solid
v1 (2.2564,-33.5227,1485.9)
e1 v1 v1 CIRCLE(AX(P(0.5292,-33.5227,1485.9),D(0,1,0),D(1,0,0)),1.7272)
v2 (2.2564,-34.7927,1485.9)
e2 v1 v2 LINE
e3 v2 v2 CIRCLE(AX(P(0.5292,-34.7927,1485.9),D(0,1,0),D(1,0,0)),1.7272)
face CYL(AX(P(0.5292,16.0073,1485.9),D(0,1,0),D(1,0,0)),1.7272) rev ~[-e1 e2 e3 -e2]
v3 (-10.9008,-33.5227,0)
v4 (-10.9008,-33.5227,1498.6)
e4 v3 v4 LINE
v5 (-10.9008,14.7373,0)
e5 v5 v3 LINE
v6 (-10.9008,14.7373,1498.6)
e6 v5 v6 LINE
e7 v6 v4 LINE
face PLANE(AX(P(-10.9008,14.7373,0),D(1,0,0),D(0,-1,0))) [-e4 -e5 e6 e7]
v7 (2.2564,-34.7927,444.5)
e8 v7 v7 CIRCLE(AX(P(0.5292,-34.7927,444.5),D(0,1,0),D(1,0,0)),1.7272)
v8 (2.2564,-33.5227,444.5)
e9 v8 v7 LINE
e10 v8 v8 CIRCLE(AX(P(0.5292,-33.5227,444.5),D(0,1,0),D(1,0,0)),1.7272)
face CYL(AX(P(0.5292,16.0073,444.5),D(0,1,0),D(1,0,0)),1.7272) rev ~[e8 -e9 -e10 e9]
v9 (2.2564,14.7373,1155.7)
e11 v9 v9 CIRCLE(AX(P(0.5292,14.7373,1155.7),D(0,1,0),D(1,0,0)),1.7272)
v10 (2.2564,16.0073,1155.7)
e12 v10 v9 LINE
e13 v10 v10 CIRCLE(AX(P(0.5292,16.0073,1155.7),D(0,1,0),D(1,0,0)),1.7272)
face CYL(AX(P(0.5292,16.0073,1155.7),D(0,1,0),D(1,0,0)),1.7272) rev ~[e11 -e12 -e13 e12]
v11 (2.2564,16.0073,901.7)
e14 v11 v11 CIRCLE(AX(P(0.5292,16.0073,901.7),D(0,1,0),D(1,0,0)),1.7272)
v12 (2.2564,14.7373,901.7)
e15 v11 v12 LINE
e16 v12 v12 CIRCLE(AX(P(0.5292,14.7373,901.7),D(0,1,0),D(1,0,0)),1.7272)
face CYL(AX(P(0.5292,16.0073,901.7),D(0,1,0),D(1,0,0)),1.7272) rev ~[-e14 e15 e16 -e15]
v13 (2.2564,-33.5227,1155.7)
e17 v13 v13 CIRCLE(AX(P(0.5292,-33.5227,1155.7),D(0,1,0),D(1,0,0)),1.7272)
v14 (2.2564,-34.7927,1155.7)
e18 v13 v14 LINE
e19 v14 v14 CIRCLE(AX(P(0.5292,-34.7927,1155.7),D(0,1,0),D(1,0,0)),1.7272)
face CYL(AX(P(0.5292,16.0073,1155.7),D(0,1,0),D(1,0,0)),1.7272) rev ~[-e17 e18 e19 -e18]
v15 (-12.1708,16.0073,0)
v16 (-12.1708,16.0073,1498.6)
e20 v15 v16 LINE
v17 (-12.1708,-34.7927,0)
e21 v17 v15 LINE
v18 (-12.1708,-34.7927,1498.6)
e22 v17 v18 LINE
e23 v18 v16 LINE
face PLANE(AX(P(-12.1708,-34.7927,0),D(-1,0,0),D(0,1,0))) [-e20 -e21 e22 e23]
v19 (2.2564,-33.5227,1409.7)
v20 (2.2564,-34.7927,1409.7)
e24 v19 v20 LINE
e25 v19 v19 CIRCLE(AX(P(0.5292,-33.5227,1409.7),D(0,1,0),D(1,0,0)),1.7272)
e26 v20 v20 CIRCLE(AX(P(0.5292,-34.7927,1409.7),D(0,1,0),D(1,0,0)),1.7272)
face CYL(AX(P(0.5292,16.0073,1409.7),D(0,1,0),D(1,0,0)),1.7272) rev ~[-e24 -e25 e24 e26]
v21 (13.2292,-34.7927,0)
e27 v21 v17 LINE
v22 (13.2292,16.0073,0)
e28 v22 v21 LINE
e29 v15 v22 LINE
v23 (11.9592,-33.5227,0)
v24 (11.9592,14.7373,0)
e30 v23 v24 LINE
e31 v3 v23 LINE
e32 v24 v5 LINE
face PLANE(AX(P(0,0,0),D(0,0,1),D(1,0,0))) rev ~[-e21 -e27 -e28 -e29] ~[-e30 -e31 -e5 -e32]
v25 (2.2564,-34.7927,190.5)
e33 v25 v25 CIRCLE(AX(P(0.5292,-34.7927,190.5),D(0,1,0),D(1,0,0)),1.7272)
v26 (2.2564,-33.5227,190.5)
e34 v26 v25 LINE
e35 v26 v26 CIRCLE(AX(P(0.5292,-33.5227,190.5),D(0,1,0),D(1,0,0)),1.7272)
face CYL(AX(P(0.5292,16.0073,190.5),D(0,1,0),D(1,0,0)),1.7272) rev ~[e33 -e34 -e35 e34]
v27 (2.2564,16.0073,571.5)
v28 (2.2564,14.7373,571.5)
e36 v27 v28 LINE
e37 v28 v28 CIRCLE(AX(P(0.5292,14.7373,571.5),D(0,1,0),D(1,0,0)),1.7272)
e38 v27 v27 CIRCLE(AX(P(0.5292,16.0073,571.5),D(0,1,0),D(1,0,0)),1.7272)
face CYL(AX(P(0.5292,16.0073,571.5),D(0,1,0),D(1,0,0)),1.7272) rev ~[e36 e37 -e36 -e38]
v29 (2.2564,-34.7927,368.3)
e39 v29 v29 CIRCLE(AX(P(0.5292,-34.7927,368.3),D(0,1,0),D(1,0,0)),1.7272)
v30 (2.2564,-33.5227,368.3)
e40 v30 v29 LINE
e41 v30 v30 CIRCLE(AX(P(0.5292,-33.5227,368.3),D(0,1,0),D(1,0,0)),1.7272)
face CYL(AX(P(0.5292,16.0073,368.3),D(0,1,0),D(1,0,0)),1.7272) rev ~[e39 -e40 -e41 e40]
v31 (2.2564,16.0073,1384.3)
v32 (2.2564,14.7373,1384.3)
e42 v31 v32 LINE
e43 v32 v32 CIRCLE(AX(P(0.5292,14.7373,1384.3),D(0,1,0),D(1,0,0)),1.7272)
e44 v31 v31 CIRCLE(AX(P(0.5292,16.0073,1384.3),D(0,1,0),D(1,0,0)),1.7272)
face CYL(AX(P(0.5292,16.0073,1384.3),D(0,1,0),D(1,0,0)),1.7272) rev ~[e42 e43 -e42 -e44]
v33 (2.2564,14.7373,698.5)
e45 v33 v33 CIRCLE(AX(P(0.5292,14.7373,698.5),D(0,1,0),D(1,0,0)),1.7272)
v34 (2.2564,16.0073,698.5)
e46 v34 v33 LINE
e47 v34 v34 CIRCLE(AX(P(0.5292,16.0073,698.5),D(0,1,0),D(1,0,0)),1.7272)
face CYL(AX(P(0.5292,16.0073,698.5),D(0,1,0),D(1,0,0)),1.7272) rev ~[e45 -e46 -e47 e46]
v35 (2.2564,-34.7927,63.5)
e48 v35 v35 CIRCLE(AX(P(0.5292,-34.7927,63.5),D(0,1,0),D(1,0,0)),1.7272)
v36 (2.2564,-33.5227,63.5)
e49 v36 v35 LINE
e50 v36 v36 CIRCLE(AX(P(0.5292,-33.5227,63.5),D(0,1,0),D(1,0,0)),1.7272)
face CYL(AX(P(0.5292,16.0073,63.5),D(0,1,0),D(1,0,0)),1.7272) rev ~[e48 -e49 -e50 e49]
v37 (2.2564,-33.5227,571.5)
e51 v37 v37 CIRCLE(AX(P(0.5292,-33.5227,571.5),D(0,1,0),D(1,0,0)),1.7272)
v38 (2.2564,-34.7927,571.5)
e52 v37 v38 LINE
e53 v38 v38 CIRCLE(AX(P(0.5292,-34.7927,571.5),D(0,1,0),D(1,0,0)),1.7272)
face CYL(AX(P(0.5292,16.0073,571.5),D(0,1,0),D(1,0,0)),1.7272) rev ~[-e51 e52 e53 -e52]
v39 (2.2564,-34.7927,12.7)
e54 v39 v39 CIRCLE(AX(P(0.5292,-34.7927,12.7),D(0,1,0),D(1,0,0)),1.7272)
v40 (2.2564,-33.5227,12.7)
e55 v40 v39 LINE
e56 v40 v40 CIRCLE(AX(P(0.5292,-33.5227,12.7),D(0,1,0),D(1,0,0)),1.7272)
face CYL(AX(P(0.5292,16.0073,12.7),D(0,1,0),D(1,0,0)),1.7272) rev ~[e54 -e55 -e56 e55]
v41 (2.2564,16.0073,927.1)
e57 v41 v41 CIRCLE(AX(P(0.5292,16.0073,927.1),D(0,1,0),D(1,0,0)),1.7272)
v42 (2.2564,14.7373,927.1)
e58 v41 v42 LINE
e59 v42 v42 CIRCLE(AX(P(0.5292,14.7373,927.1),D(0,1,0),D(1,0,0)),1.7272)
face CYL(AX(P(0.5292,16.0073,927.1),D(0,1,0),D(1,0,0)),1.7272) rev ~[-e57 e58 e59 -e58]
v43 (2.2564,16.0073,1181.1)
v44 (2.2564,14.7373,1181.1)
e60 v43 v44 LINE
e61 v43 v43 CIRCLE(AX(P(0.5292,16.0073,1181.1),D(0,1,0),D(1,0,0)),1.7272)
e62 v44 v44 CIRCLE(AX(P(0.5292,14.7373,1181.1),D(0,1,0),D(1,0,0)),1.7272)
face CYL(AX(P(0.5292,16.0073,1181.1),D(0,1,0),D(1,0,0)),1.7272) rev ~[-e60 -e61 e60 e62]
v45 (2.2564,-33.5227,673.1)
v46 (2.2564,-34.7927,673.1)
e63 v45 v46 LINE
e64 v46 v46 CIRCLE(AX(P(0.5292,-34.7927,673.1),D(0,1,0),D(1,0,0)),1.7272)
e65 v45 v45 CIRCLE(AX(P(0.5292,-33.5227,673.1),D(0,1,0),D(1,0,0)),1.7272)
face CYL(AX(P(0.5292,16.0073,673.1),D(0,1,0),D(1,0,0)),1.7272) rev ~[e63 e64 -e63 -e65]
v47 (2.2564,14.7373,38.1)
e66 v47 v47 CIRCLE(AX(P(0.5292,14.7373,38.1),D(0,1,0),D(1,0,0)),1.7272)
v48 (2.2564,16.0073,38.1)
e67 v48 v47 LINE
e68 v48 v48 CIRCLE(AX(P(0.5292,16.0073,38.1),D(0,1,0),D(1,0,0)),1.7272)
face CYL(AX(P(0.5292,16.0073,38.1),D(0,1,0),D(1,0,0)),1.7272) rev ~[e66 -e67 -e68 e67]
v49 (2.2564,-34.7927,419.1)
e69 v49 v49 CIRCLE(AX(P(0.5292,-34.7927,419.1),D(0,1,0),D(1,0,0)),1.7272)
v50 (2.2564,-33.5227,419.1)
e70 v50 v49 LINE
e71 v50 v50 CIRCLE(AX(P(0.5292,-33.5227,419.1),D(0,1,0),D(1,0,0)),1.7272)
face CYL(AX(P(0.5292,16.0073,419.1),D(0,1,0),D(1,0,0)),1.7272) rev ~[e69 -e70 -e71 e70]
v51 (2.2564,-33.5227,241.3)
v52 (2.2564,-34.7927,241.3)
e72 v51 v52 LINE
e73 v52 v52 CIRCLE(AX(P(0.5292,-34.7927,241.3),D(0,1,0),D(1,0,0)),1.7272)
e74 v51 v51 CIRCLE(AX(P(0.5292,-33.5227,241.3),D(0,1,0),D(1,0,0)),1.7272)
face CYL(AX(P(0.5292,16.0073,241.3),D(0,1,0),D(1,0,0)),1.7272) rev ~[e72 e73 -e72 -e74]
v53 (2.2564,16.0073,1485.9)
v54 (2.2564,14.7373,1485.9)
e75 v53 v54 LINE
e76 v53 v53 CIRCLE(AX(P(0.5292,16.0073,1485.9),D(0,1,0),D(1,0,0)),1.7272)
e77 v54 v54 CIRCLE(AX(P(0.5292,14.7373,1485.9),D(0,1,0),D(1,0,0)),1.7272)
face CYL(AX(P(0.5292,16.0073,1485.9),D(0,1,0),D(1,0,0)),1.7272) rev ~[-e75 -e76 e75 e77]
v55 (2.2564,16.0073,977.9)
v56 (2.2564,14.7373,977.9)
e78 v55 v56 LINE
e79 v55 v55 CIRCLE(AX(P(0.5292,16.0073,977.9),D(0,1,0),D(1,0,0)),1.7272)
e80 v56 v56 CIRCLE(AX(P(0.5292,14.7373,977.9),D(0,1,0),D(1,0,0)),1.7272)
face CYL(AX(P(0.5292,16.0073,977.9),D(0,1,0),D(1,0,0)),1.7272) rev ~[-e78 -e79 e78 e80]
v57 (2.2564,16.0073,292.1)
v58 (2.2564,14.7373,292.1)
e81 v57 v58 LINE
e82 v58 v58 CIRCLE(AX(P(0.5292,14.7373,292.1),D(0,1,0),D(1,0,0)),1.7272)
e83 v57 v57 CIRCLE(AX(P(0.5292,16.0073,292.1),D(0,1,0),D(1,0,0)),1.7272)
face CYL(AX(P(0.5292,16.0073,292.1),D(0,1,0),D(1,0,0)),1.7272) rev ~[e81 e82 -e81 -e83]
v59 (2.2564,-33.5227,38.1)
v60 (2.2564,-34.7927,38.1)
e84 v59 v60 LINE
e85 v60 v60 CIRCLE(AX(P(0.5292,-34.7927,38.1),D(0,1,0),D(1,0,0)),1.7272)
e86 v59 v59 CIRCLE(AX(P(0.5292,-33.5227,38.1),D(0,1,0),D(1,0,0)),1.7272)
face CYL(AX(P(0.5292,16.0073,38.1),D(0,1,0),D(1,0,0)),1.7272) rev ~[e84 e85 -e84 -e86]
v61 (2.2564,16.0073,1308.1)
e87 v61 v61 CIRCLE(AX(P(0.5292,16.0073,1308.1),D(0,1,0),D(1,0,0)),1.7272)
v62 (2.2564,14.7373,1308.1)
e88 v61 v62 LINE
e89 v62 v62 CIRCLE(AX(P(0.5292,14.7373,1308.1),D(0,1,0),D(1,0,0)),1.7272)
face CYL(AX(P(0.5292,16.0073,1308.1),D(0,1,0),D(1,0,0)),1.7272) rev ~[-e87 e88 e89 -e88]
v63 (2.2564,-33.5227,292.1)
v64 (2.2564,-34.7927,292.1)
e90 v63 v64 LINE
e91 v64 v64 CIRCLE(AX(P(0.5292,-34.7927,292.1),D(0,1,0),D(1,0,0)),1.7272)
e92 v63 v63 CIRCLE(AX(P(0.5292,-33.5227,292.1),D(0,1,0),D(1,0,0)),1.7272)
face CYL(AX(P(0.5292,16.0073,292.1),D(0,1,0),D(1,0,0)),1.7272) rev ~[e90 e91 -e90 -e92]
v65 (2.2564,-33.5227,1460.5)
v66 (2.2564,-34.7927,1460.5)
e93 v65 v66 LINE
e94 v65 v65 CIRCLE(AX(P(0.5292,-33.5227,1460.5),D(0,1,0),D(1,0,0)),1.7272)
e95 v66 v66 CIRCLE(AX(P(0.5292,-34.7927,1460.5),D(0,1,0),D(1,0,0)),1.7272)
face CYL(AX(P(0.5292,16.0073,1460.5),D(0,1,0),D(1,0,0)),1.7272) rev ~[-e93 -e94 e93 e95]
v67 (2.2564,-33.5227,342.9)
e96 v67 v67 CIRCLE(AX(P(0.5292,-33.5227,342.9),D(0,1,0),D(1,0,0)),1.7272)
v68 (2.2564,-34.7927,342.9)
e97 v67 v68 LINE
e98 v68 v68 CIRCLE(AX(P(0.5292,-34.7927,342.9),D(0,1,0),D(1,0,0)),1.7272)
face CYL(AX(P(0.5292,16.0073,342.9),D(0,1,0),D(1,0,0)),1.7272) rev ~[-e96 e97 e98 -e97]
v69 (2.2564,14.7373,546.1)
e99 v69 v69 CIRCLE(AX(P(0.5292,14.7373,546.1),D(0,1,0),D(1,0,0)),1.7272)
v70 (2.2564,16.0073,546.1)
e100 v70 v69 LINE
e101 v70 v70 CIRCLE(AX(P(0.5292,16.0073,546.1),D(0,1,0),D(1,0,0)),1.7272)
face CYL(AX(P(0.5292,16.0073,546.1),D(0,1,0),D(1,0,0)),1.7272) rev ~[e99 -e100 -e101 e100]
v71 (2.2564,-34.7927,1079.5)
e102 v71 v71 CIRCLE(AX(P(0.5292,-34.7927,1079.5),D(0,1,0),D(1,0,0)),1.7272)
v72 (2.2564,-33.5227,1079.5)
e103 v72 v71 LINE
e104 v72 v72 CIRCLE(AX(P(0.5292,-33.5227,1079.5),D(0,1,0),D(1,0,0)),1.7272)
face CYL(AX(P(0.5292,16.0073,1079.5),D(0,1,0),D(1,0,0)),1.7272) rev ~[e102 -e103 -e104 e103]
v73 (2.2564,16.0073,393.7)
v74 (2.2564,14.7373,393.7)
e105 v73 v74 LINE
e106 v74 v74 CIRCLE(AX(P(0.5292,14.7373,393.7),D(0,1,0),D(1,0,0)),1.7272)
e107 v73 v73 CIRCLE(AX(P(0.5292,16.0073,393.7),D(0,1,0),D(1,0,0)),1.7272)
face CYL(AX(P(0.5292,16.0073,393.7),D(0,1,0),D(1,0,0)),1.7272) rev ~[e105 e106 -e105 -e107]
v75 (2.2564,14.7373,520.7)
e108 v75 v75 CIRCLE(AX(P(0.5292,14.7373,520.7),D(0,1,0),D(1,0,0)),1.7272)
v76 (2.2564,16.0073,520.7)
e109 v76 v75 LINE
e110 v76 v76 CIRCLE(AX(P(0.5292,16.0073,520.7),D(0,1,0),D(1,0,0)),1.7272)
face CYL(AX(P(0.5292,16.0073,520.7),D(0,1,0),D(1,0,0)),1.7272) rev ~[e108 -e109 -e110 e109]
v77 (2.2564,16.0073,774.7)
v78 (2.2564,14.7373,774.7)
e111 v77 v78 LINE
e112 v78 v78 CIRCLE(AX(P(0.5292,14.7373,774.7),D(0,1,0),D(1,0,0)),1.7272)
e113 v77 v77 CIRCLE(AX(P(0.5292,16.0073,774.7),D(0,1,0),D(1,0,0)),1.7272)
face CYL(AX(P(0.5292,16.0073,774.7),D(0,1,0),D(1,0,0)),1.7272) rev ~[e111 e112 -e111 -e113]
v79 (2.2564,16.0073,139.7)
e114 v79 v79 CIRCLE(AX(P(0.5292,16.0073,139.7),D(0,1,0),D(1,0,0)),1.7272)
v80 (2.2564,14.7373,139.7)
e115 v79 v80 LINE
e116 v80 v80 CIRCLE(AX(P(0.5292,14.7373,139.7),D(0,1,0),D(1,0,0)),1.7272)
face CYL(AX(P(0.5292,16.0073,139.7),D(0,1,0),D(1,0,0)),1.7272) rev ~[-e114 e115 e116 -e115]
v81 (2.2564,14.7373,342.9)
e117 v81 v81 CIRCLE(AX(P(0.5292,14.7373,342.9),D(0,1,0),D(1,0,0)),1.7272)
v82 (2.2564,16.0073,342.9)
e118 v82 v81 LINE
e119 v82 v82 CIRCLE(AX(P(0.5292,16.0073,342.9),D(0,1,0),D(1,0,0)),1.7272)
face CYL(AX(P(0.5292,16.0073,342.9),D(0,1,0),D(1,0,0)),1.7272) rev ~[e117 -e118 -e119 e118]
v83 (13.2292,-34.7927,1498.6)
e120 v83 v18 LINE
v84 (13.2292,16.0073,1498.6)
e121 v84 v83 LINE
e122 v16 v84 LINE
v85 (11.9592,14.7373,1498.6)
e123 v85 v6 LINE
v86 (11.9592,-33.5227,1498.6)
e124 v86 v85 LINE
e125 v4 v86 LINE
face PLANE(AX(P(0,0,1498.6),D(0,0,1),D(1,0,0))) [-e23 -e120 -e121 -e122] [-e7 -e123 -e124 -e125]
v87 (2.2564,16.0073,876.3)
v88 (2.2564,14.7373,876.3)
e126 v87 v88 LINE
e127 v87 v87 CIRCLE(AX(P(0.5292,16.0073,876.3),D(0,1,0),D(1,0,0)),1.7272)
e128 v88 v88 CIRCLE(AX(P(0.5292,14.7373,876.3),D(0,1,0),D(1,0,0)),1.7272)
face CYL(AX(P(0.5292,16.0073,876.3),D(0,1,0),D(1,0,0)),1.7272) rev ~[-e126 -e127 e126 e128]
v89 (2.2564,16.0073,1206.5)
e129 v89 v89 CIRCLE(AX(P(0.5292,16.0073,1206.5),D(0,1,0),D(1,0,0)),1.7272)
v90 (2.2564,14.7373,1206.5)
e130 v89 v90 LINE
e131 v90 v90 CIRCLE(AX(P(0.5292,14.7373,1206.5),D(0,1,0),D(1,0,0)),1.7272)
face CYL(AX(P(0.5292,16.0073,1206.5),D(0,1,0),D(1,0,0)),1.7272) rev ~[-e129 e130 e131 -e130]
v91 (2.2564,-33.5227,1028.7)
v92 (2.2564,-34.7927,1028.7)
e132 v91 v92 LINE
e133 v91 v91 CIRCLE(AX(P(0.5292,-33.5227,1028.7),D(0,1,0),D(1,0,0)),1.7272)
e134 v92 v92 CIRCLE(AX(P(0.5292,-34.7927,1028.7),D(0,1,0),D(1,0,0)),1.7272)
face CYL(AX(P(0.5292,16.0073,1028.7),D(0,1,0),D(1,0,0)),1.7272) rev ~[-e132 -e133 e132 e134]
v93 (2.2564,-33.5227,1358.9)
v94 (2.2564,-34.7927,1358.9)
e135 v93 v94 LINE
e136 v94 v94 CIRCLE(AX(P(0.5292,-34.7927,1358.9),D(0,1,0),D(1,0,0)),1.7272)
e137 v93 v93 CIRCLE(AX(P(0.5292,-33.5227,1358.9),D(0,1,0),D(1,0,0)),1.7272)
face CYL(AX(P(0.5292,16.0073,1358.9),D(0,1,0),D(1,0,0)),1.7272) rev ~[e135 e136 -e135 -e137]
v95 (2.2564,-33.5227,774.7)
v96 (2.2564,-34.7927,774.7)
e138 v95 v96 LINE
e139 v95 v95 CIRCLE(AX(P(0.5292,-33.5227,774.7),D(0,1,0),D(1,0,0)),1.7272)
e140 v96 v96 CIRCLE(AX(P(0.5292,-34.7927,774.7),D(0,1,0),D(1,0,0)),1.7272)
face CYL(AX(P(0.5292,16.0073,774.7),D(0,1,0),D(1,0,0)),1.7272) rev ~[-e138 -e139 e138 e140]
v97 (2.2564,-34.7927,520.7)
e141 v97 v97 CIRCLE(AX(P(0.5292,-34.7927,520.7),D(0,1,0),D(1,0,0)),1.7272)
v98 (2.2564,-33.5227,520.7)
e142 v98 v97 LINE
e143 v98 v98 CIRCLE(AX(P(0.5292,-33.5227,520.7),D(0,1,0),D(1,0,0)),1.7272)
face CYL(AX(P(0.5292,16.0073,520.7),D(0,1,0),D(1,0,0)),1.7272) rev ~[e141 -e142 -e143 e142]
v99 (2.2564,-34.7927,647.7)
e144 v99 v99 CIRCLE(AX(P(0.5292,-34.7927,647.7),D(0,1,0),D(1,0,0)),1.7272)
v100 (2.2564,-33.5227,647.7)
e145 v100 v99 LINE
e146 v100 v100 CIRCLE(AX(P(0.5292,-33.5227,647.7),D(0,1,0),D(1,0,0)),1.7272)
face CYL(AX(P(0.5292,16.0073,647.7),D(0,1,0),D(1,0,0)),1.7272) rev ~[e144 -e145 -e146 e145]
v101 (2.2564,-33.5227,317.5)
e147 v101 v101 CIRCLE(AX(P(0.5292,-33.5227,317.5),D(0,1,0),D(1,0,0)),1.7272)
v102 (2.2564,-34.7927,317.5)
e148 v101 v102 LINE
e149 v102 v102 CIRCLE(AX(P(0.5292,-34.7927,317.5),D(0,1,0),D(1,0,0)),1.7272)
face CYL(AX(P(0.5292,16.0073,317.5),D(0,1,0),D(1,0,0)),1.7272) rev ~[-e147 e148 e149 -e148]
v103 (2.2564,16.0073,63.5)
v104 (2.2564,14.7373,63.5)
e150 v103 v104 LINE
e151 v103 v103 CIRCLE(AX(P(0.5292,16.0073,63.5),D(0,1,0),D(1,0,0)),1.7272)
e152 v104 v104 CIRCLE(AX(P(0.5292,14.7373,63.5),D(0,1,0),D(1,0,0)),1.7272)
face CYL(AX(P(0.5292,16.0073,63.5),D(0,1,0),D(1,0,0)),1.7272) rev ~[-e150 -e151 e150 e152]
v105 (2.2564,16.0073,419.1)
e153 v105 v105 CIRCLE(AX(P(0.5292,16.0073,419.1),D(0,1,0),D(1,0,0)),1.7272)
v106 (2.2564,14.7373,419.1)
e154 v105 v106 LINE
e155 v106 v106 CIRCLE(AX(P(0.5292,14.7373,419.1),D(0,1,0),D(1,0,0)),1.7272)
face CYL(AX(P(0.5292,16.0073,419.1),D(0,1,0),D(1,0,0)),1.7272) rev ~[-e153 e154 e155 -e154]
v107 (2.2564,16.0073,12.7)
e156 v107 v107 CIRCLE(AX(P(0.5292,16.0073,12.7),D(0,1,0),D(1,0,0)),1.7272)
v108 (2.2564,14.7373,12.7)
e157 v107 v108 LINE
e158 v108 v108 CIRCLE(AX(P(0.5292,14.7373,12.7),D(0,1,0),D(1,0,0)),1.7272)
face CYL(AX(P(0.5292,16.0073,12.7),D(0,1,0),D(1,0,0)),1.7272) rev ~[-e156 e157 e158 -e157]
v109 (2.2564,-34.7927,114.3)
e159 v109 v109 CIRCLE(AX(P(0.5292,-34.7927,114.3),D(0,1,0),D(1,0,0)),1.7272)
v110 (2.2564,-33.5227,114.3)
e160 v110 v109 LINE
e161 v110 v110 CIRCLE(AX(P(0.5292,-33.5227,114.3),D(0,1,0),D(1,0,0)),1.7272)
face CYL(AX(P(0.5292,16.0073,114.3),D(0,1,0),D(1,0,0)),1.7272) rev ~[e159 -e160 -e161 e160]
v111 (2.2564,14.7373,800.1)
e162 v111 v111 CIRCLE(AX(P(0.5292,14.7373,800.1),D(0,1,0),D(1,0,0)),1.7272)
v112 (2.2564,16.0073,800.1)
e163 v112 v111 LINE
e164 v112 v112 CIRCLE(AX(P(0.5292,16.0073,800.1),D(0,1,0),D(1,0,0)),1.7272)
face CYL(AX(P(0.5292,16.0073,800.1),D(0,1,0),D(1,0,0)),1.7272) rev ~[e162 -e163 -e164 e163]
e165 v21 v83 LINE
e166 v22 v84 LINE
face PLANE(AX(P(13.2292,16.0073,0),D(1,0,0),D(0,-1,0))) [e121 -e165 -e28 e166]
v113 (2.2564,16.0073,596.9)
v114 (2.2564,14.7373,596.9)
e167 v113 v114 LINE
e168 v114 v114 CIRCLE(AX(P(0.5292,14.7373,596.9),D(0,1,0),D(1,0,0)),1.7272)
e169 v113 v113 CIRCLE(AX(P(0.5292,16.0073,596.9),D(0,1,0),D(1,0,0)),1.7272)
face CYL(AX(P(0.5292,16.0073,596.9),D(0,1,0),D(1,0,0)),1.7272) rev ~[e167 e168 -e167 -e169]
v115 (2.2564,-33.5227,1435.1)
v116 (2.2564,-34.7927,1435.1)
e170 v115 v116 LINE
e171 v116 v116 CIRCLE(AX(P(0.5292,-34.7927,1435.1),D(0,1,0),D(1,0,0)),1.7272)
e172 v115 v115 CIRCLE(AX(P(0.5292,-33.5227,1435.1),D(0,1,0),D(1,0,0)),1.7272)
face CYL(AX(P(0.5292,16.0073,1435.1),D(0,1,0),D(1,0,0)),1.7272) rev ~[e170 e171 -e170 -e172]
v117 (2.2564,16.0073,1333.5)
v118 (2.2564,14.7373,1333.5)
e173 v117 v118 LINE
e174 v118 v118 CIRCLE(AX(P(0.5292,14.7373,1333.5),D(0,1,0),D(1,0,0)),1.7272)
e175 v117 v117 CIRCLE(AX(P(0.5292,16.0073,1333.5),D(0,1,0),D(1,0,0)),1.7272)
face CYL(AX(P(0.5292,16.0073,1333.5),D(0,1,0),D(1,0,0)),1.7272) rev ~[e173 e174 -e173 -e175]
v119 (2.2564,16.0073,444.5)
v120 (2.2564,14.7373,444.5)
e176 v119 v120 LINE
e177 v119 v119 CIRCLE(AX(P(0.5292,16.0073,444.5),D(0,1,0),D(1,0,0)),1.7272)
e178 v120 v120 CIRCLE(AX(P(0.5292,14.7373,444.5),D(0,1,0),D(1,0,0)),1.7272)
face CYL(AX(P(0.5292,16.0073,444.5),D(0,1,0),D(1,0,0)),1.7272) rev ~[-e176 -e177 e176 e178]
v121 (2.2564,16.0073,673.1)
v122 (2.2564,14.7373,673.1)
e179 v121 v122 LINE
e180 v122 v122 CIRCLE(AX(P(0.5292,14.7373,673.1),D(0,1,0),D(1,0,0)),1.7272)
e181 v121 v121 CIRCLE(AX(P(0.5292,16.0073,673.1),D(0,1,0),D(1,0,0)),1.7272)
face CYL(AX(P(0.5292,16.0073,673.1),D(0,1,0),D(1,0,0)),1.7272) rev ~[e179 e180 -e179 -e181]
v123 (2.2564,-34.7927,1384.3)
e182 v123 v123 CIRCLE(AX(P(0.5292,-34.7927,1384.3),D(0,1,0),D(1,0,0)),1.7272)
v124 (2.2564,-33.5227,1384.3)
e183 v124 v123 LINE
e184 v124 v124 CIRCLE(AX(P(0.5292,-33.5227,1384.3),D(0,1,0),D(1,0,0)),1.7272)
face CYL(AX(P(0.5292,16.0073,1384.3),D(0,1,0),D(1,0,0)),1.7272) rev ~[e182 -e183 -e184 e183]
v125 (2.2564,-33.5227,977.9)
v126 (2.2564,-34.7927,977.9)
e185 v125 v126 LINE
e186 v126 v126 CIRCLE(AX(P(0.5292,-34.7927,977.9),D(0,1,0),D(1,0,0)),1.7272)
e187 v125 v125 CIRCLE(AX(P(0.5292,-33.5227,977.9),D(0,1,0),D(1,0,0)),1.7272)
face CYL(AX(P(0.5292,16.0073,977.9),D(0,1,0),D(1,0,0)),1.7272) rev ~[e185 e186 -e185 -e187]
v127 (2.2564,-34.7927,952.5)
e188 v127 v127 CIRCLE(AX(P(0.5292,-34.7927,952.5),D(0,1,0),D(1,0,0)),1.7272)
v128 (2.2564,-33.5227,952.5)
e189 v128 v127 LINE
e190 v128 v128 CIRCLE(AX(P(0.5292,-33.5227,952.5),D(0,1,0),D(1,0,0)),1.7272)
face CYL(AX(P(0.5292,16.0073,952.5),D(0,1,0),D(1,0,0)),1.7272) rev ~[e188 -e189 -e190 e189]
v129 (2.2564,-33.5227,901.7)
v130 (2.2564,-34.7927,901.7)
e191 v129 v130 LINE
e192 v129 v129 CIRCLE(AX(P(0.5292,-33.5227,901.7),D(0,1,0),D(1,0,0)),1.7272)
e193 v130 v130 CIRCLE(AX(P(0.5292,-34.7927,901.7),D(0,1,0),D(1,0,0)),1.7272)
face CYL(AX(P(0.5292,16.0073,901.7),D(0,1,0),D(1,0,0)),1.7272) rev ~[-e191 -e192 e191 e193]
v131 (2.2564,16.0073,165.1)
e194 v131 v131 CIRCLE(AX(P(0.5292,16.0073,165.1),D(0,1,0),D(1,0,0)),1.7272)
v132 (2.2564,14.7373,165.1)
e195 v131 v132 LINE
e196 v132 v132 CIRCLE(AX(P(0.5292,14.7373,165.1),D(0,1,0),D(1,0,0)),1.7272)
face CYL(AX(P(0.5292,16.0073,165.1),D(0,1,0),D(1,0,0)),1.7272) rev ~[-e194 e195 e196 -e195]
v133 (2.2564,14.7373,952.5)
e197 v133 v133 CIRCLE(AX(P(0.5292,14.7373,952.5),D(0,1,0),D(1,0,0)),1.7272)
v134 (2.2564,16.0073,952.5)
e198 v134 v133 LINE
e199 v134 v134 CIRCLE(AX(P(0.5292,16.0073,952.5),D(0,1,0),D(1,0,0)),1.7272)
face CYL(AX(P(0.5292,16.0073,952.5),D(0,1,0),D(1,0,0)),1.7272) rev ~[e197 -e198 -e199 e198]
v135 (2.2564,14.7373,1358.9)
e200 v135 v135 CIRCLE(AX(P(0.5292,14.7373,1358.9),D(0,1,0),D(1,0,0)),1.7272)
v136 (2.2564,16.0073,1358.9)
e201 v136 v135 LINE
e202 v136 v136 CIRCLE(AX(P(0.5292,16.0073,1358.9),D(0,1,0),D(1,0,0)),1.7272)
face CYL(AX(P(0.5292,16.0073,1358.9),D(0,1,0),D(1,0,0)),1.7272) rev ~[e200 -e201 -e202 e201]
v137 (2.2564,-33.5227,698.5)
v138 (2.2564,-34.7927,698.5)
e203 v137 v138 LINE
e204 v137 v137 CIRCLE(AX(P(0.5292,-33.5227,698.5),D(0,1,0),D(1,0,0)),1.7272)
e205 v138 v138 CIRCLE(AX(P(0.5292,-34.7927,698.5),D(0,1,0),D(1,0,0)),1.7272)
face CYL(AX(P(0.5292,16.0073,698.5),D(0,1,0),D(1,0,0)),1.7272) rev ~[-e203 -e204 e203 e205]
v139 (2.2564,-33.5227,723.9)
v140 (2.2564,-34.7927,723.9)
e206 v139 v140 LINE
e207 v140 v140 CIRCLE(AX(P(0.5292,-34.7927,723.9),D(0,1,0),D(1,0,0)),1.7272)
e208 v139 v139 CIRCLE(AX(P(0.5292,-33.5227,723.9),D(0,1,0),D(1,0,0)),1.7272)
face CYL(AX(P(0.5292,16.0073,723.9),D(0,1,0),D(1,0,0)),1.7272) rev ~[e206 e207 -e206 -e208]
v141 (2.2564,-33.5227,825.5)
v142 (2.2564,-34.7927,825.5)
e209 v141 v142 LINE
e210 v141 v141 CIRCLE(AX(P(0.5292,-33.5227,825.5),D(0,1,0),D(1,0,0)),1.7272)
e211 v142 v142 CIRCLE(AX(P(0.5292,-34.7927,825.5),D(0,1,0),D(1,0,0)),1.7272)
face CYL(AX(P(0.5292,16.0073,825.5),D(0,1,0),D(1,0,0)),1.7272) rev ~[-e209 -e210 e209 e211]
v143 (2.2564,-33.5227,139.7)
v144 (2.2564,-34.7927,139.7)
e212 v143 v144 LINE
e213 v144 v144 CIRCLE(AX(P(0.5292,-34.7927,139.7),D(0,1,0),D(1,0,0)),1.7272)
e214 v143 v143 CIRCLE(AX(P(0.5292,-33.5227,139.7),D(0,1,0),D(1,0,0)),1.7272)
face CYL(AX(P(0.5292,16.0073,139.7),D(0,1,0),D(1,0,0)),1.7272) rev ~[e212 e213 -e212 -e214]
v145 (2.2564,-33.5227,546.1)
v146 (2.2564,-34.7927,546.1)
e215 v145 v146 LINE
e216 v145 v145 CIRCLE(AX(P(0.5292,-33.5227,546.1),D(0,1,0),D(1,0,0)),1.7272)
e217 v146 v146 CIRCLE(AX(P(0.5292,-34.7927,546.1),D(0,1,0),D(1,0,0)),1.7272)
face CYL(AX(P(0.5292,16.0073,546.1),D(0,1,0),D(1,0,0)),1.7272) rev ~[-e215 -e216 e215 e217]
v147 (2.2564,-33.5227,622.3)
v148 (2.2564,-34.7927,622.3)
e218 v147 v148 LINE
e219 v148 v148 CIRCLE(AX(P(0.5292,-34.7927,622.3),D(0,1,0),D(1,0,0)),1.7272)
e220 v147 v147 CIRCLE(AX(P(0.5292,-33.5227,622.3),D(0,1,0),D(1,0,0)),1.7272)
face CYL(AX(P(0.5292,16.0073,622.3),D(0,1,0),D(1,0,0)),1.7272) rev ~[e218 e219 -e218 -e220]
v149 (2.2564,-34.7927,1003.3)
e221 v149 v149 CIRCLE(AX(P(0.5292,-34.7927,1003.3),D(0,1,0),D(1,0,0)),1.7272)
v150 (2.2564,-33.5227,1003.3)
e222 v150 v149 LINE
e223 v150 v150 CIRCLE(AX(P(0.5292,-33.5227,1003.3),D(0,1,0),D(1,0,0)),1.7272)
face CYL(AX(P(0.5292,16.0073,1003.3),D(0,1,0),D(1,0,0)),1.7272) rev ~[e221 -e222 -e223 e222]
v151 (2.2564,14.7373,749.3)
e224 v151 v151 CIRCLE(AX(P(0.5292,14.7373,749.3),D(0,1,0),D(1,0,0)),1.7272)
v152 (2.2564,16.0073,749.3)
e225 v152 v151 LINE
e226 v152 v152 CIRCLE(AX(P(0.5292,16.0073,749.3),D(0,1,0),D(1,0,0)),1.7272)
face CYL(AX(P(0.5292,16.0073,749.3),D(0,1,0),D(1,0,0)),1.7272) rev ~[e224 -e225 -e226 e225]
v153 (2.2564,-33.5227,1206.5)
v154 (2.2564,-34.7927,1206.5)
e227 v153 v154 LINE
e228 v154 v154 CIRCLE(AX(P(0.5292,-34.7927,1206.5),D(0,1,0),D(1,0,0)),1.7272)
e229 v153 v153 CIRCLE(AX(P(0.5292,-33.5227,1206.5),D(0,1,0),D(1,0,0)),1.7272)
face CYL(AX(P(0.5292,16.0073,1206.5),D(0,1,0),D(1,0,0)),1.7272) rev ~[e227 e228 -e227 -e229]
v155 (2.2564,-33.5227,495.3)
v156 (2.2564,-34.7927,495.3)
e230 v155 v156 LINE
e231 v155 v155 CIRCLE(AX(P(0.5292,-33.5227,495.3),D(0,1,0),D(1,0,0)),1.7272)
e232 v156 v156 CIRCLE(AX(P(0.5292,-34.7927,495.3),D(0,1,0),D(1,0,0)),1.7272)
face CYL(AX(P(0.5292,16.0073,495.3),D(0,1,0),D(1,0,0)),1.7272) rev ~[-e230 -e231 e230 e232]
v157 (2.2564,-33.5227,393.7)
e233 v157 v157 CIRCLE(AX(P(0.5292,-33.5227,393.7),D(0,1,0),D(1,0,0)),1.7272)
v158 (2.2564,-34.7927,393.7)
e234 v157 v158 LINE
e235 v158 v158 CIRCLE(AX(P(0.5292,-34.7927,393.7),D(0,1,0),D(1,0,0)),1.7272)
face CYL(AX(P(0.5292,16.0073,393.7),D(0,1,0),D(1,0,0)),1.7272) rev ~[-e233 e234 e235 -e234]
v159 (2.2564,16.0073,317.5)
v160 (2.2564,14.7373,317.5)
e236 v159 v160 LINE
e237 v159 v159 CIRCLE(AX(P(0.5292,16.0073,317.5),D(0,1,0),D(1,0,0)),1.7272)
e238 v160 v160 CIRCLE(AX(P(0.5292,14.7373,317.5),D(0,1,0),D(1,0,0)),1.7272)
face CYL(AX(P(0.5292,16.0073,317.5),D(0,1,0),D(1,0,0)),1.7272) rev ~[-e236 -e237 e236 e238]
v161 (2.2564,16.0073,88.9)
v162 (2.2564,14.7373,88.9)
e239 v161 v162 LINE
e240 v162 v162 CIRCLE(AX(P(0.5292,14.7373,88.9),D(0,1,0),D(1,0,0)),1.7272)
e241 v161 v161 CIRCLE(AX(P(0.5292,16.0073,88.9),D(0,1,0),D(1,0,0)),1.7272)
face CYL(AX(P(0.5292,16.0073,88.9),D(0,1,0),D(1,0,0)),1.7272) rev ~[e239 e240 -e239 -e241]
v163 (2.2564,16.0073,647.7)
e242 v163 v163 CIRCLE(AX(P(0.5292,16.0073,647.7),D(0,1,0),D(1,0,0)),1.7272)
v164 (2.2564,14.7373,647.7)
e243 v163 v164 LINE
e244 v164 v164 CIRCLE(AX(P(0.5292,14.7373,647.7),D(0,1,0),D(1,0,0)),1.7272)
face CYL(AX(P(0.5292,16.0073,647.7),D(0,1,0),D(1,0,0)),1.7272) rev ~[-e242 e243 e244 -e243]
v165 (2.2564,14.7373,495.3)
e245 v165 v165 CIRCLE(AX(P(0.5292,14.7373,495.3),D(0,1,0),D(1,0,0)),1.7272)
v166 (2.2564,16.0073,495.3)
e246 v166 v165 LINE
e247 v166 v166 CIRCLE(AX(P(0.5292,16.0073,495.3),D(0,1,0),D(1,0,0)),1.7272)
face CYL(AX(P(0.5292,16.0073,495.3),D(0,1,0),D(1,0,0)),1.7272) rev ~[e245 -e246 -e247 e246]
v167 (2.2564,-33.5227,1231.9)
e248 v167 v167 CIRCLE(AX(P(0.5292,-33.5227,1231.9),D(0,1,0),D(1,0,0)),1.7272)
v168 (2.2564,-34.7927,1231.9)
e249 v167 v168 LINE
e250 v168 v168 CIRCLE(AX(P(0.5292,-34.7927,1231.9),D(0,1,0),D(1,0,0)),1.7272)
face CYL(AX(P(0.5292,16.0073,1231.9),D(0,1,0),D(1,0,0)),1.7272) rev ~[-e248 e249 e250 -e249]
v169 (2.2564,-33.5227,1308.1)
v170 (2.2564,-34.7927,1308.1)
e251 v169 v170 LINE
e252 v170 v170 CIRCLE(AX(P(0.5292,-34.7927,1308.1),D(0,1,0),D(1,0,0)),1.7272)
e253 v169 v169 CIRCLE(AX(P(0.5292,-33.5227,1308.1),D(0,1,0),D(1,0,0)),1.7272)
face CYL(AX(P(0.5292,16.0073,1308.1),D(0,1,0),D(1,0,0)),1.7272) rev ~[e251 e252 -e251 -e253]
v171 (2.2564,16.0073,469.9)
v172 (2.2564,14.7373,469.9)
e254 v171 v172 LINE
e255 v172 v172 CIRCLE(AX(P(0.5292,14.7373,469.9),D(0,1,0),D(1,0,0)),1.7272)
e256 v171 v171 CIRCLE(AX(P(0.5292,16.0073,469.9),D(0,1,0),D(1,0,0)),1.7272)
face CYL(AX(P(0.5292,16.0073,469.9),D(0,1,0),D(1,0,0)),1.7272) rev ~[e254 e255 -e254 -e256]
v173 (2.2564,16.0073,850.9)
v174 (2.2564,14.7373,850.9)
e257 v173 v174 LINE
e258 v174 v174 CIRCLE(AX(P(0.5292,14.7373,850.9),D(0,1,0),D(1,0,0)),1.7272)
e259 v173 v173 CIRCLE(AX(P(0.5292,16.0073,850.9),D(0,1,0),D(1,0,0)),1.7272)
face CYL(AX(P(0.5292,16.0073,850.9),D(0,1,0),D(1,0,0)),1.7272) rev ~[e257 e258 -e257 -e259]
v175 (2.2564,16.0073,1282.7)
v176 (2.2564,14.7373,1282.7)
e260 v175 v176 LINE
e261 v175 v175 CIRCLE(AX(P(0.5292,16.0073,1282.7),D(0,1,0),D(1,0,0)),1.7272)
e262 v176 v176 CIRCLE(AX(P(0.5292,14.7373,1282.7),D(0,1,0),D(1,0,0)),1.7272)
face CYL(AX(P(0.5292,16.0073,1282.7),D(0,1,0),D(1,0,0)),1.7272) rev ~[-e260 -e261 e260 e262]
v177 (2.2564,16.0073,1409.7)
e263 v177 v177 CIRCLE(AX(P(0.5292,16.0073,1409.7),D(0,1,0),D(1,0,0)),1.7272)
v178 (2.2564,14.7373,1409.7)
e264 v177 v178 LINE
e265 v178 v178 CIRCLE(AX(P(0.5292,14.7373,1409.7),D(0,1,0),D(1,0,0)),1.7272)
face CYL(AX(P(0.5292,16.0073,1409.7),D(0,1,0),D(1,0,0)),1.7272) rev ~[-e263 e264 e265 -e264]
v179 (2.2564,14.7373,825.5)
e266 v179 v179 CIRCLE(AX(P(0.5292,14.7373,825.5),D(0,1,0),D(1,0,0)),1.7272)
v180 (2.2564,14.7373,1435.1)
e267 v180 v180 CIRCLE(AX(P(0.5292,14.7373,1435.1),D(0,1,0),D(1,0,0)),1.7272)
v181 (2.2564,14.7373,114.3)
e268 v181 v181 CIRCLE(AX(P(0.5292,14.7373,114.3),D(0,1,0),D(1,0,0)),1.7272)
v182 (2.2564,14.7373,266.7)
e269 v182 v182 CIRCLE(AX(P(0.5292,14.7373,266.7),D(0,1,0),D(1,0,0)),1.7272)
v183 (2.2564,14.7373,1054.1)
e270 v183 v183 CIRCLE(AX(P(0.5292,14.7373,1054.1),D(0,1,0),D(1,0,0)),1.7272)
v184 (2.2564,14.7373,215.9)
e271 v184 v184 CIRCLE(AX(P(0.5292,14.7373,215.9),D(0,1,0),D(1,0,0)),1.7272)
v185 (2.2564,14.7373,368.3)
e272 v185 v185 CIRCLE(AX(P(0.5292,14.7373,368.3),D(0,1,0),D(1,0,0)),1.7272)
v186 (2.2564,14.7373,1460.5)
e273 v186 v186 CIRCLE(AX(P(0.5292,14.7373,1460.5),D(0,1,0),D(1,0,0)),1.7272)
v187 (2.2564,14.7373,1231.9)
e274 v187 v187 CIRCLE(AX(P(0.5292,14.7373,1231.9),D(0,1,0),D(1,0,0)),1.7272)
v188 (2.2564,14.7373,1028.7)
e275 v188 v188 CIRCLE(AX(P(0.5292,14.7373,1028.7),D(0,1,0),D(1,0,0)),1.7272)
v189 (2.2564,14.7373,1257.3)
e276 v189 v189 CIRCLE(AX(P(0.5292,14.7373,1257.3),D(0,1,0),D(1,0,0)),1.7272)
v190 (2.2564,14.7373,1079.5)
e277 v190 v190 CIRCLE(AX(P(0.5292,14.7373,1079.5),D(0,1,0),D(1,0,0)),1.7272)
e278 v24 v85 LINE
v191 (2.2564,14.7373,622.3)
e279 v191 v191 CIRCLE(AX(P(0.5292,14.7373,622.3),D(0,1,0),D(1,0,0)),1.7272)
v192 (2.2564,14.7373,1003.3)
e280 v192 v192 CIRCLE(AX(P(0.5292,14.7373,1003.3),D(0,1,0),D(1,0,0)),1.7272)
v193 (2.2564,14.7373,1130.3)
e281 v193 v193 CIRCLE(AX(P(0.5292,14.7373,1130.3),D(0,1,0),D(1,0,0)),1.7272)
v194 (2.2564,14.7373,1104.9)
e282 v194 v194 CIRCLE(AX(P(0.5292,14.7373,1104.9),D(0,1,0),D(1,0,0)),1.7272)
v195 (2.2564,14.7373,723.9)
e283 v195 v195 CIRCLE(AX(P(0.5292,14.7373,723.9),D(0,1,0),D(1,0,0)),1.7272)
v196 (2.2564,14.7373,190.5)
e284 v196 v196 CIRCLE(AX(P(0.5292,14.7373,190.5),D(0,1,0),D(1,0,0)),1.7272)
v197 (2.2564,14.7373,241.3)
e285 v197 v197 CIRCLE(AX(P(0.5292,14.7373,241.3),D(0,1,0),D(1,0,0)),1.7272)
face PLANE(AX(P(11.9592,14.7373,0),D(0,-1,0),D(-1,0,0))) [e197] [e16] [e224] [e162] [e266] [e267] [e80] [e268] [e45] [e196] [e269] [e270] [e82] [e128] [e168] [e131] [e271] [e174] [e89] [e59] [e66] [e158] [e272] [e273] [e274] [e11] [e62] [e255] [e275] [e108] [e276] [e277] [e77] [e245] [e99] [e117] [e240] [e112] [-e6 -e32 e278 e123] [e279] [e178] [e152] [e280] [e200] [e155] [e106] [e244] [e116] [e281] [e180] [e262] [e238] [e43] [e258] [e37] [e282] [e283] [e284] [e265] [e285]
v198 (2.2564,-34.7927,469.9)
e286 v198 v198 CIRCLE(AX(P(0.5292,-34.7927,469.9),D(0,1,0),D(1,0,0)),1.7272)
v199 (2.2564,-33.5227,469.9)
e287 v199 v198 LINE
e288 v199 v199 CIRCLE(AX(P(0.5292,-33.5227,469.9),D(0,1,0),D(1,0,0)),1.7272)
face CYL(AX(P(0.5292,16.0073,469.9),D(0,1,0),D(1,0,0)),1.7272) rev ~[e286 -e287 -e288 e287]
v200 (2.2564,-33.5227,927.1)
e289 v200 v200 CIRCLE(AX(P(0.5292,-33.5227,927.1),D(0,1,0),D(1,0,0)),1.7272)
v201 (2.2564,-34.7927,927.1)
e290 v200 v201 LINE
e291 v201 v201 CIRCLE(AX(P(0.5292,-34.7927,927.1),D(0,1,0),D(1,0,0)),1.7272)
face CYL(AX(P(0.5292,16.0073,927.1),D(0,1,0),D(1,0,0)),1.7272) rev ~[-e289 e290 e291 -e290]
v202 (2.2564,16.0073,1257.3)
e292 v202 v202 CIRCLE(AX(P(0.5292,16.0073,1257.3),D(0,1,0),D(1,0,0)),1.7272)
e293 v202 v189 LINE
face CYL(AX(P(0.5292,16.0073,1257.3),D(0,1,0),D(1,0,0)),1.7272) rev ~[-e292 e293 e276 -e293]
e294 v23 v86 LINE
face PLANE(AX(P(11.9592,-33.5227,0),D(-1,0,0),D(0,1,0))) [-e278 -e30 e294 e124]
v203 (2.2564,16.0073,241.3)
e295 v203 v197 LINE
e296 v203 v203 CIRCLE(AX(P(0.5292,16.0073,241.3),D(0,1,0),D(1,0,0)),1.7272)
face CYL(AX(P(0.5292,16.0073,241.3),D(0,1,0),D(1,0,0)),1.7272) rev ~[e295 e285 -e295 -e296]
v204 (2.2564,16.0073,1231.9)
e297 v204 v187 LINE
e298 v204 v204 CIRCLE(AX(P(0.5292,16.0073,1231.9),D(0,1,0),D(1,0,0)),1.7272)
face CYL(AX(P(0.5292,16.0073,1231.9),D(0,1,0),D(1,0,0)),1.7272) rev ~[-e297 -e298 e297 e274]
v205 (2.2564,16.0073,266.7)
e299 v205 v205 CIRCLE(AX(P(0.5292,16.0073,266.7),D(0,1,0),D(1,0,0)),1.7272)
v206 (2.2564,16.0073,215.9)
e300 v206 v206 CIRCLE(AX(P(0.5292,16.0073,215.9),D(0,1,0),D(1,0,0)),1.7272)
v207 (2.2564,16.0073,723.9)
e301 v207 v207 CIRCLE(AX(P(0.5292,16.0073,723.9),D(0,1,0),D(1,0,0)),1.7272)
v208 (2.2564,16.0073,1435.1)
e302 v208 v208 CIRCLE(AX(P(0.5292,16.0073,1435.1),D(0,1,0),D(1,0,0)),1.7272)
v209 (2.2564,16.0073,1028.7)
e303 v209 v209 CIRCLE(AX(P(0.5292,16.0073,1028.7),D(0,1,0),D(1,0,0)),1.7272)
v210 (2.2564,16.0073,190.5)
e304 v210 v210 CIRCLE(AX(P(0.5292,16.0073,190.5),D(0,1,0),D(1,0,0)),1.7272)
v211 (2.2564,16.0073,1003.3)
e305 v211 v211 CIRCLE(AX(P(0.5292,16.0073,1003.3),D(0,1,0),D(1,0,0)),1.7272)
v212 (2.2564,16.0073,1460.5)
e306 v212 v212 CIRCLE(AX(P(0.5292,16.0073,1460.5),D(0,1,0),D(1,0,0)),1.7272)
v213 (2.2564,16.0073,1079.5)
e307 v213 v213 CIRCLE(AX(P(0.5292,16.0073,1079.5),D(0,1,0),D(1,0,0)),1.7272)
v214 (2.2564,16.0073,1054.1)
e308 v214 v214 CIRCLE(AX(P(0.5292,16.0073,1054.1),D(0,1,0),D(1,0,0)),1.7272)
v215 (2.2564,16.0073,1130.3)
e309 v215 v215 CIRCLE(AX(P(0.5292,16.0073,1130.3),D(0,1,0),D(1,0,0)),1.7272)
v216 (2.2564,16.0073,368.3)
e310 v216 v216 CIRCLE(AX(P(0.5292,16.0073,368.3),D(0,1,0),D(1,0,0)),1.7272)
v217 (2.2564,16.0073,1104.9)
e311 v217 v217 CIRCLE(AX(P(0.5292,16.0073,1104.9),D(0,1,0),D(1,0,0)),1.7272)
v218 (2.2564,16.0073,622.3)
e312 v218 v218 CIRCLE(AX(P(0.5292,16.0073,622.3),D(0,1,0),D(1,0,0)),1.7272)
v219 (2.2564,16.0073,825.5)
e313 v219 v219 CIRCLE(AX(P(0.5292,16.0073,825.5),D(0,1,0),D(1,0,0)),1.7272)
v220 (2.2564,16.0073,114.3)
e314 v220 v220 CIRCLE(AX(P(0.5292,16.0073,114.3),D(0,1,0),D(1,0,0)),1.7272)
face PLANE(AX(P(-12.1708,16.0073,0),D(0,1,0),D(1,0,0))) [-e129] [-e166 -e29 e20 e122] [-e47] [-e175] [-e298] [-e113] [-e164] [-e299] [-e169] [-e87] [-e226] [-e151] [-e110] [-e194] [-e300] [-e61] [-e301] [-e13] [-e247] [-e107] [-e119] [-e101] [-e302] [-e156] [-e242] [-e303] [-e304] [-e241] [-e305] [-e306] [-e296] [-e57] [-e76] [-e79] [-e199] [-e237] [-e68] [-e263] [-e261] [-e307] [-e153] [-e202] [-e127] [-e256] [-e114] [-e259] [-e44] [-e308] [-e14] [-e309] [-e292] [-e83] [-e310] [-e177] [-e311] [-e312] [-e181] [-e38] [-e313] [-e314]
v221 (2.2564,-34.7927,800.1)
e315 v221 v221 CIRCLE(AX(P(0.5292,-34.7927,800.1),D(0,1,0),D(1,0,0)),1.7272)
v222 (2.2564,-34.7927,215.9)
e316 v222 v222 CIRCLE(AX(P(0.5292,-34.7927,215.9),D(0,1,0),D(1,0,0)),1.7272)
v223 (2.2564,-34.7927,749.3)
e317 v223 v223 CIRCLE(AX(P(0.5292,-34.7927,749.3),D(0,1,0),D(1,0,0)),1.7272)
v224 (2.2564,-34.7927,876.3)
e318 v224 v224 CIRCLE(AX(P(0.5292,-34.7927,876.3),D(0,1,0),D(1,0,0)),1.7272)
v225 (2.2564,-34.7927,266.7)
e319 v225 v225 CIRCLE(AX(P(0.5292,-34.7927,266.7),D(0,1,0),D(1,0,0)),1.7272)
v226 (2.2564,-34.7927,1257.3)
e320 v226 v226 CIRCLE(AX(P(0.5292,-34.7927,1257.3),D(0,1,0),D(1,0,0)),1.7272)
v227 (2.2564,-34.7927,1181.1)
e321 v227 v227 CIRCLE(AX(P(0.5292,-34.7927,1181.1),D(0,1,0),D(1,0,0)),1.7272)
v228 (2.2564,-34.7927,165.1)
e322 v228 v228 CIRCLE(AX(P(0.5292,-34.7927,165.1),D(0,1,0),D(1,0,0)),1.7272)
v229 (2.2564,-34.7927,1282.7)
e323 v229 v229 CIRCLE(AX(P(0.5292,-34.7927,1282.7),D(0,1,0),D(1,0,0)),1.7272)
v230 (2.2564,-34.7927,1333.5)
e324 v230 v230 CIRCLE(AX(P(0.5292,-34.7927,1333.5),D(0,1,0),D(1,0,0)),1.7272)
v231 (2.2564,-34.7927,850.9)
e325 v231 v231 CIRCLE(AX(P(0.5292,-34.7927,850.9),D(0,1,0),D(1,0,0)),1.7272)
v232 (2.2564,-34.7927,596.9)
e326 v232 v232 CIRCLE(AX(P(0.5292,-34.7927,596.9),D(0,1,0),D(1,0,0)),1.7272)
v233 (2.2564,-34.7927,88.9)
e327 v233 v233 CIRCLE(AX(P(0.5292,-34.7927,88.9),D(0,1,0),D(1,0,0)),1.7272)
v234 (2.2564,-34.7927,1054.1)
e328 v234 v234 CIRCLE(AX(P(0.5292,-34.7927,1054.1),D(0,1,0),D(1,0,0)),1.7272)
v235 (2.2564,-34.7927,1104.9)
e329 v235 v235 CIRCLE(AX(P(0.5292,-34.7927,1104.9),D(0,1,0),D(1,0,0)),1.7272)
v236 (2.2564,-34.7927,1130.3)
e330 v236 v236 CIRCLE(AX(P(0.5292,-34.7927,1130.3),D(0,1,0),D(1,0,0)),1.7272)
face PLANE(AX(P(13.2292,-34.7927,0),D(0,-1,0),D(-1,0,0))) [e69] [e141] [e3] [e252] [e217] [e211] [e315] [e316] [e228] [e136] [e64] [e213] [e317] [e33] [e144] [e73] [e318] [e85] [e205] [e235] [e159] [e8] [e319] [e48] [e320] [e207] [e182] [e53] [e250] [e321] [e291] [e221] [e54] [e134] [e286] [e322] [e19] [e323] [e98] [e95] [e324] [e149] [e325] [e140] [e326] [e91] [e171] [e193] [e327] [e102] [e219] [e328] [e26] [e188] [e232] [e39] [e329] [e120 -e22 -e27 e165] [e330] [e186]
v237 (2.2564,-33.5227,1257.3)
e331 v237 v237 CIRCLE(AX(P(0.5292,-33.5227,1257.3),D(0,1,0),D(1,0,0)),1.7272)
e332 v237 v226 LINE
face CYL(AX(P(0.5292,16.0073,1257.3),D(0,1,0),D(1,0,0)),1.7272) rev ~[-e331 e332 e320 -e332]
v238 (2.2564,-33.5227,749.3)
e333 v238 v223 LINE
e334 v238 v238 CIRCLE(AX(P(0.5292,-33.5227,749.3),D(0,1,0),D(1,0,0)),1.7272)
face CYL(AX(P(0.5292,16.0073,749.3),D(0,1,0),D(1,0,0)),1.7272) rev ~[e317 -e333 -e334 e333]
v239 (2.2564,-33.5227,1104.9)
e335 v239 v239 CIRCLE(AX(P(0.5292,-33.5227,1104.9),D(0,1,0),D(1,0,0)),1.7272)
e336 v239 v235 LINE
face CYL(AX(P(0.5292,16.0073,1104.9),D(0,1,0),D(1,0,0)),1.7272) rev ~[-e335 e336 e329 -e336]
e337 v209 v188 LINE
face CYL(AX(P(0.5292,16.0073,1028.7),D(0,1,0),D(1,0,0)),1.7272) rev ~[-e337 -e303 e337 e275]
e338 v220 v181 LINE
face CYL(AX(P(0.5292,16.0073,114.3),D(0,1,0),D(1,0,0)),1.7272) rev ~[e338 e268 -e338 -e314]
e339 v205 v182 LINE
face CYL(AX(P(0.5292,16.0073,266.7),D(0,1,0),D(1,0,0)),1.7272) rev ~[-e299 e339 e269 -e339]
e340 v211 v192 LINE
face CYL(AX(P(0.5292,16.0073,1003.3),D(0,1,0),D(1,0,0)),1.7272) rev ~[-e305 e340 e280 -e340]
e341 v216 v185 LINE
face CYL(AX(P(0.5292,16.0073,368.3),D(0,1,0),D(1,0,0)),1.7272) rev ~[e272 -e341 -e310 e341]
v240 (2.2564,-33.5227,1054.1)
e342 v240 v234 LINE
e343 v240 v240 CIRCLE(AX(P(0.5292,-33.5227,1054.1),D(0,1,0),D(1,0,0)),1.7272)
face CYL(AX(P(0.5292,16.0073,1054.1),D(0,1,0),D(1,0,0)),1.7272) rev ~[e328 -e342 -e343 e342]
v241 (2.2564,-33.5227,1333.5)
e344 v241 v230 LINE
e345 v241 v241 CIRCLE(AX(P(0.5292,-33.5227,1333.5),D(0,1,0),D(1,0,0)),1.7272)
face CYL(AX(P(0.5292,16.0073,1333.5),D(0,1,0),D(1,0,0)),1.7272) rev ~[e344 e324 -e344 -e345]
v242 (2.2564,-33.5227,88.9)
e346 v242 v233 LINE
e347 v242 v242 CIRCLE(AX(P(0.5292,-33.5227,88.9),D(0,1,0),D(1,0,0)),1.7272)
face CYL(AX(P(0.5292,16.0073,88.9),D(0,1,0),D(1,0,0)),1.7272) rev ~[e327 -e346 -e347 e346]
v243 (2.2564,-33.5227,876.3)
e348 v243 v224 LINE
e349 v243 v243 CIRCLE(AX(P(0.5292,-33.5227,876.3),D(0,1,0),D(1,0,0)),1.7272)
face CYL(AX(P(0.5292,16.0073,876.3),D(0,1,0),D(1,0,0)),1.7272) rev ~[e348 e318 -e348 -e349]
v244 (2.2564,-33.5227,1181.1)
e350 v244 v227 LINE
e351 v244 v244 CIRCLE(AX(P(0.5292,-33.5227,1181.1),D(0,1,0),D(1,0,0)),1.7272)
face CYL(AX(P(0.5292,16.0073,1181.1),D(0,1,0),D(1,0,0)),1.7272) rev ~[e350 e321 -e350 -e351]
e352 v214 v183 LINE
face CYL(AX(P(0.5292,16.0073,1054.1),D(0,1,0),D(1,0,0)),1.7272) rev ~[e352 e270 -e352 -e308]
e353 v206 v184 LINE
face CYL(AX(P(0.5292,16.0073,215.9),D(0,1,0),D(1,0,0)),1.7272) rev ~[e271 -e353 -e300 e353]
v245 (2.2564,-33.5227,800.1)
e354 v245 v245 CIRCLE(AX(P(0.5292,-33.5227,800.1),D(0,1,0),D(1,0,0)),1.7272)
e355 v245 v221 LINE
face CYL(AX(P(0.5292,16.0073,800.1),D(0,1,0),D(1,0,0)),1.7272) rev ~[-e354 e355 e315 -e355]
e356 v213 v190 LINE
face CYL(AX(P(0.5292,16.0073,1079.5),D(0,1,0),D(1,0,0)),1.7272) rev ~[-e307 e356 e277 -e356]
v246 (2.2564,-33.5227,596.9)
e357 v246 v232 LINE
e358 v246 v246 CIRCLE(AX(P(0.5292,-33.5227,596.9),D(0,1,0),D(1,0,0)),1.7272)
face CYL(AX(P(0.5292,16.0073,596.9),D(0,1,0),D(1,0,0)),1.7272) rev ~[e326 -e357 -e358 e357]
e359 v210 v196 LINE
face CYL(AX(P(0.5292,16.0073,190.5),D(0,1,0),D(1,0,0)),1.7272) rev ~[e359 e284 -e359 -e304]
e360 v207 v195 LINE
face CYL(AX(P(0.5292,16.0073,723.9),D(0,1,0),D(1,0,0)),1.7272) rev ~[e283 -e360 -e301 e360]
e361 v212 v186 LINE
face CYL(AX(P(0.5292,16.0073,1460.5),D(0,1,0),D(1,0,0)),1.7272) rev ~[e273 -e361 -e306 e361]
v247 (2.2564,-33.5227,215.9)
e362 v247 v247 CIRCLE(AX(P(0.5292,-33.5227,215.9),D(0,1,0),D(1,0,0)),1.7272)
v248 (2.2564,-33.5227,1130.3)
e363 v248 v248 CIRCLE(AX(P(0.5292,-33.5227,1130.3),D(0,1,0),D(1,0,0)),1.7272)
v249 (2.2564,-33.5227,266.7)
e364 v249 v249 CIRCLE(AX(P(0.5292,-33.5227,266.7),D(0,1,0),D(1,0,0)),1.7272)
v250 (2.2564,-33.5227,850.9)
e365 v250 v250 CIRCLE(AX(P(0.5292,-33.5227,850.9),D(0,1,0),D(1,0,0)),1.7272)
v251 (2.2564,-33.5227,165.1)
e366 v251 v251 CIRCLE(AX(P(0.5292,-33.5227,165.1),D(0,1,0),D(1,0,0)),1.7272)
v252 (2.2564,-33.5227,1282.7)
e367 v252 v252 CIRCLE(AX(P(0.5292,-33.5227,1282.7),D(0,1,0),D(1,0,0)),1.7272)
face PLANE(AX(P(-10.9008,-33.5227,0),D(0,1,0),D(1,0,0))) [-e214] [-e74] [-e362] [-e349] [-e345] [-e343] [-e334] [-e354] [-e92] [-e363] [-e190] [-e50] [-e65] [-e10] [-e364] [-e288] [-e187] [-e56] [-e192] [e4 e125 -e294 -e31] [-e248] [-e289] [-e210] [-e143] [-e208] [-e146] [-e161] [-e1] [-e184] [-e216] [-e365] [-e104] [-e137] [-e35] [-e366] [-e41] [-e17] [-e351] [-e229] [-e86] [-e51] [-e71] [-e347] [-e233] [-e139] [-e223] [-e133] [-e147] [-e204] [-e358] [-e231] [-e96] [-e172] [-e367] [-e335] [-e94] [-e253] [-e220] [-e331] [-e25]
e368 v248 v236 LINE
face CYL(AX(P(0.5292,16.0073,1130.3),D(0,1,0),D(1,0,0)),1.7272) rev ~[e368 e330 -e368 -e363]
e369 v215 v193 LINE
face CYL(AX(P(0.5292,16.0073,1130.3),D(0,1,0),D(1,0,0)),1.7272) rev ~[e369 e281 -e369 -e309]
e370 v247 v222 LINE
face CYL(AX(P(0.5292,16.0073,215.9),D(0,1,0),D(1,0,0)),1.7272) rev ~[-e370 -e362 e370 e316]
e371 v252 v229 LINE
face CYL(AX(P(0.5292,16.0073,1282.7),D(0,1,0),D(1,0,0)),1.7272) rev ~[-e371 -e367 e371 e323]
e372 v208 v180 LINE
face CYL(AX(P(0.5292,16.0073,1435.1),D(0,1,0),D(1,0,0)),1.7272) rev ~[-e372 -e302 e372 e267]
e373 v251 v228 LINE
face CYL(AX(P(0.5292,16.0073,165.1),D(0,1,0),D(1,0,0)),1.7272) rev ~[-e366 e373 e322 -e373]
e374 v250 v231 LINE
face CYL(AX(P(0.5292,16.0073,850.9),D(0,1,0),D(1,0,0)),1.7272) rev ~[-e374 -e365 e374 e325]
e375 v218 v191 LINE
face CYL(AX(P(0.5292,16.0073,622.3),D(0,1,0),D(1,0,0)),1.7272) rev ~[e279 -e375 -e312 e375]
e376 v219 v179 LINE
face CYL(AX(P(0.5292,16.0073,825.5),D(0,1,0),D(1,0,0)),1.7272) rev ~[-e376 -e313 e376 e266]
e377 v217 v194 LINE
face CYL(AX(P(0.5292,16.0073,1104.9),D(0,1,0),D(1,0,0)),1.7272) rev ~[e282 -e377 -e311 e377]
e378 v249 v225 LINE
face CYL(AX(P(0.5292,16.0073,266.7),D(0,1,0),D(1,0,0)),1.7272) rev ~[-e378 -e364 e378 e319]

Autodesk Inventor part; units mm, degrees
ref_plane "YZ Plane" through (0, 0, 0) normal (1, 0, 0) x (0, 1, 0)
ref_plane "XZ Plane" through (0, 0, 0) normal (0, 1, 0) x (-1, 0, 0)
ref_plane "XY Plane" through (0, 0, 0) normal (0, 0, 1) x (1, 0, 0)
sketch "Sketch1" plane through (0, 0, 0) normal (0, 0, 1) x (1, 0, 0)
  line L0 (-12.1708, 16.0073) -> (13.2292, 16.0073)
  line L1 (13.2292, 16.0073) -> (13.2292, -34.7927)
  line L2 (13.2292, -34.7927) -> (-12.1708, -34.7927)
  line L3 (-12.1708, -34.7927) -> (-12.1708, 16.0073)
  line L4 (11.9592, 14.7373) -> (-10.9008, 14.7373)
  line L5 (-10.9008, 14.7373) -> (-10.9008, -33.5227)
  line L6 (-10.9008, -33.5227) -> (11.9592, -33.5227)
  line L7 (11.9592, -33.5227) -> (11.9592, 14.7373)
  point P0 (0, 0)
  dimension "d0" = 25.4
  dimension "d1" = 50.8
  dimension "d2" = 1.27
extrude "Extrusion1" add sketch "Sketch1" along normal blind 1498.6
sketch "Sketch2" plane through (-12.1708, 16.0073, 0) normal (0, 1, 0) x (1, 0, 0)
  circle A0 centre (12.7, -12.7) radius 1.7272
  line L0 (25.4, 0) -> (0, 0) projected
  line L1 (0, 0) -> (0, -1498.6) projected
  point P0 (12.1708, 0)
  dimension "d5" = 3.4544
  dimension "d6" = 12.7
  dimension "d7" = 12.7
extrude "Extrusion2" cut sketch "Sketch2" against normal through all
pattern_linear "Rectangular Pattern1" count 150 spacing 25.4 along (0, 0, 1) of "Extrusion2"
equation "\"d3\" = d13"
equation "\"d10\" = d14"
equation "\"d13\" = 1498.6"
equation "\"d14\" = d13"
properties part number "VersaFrame"
